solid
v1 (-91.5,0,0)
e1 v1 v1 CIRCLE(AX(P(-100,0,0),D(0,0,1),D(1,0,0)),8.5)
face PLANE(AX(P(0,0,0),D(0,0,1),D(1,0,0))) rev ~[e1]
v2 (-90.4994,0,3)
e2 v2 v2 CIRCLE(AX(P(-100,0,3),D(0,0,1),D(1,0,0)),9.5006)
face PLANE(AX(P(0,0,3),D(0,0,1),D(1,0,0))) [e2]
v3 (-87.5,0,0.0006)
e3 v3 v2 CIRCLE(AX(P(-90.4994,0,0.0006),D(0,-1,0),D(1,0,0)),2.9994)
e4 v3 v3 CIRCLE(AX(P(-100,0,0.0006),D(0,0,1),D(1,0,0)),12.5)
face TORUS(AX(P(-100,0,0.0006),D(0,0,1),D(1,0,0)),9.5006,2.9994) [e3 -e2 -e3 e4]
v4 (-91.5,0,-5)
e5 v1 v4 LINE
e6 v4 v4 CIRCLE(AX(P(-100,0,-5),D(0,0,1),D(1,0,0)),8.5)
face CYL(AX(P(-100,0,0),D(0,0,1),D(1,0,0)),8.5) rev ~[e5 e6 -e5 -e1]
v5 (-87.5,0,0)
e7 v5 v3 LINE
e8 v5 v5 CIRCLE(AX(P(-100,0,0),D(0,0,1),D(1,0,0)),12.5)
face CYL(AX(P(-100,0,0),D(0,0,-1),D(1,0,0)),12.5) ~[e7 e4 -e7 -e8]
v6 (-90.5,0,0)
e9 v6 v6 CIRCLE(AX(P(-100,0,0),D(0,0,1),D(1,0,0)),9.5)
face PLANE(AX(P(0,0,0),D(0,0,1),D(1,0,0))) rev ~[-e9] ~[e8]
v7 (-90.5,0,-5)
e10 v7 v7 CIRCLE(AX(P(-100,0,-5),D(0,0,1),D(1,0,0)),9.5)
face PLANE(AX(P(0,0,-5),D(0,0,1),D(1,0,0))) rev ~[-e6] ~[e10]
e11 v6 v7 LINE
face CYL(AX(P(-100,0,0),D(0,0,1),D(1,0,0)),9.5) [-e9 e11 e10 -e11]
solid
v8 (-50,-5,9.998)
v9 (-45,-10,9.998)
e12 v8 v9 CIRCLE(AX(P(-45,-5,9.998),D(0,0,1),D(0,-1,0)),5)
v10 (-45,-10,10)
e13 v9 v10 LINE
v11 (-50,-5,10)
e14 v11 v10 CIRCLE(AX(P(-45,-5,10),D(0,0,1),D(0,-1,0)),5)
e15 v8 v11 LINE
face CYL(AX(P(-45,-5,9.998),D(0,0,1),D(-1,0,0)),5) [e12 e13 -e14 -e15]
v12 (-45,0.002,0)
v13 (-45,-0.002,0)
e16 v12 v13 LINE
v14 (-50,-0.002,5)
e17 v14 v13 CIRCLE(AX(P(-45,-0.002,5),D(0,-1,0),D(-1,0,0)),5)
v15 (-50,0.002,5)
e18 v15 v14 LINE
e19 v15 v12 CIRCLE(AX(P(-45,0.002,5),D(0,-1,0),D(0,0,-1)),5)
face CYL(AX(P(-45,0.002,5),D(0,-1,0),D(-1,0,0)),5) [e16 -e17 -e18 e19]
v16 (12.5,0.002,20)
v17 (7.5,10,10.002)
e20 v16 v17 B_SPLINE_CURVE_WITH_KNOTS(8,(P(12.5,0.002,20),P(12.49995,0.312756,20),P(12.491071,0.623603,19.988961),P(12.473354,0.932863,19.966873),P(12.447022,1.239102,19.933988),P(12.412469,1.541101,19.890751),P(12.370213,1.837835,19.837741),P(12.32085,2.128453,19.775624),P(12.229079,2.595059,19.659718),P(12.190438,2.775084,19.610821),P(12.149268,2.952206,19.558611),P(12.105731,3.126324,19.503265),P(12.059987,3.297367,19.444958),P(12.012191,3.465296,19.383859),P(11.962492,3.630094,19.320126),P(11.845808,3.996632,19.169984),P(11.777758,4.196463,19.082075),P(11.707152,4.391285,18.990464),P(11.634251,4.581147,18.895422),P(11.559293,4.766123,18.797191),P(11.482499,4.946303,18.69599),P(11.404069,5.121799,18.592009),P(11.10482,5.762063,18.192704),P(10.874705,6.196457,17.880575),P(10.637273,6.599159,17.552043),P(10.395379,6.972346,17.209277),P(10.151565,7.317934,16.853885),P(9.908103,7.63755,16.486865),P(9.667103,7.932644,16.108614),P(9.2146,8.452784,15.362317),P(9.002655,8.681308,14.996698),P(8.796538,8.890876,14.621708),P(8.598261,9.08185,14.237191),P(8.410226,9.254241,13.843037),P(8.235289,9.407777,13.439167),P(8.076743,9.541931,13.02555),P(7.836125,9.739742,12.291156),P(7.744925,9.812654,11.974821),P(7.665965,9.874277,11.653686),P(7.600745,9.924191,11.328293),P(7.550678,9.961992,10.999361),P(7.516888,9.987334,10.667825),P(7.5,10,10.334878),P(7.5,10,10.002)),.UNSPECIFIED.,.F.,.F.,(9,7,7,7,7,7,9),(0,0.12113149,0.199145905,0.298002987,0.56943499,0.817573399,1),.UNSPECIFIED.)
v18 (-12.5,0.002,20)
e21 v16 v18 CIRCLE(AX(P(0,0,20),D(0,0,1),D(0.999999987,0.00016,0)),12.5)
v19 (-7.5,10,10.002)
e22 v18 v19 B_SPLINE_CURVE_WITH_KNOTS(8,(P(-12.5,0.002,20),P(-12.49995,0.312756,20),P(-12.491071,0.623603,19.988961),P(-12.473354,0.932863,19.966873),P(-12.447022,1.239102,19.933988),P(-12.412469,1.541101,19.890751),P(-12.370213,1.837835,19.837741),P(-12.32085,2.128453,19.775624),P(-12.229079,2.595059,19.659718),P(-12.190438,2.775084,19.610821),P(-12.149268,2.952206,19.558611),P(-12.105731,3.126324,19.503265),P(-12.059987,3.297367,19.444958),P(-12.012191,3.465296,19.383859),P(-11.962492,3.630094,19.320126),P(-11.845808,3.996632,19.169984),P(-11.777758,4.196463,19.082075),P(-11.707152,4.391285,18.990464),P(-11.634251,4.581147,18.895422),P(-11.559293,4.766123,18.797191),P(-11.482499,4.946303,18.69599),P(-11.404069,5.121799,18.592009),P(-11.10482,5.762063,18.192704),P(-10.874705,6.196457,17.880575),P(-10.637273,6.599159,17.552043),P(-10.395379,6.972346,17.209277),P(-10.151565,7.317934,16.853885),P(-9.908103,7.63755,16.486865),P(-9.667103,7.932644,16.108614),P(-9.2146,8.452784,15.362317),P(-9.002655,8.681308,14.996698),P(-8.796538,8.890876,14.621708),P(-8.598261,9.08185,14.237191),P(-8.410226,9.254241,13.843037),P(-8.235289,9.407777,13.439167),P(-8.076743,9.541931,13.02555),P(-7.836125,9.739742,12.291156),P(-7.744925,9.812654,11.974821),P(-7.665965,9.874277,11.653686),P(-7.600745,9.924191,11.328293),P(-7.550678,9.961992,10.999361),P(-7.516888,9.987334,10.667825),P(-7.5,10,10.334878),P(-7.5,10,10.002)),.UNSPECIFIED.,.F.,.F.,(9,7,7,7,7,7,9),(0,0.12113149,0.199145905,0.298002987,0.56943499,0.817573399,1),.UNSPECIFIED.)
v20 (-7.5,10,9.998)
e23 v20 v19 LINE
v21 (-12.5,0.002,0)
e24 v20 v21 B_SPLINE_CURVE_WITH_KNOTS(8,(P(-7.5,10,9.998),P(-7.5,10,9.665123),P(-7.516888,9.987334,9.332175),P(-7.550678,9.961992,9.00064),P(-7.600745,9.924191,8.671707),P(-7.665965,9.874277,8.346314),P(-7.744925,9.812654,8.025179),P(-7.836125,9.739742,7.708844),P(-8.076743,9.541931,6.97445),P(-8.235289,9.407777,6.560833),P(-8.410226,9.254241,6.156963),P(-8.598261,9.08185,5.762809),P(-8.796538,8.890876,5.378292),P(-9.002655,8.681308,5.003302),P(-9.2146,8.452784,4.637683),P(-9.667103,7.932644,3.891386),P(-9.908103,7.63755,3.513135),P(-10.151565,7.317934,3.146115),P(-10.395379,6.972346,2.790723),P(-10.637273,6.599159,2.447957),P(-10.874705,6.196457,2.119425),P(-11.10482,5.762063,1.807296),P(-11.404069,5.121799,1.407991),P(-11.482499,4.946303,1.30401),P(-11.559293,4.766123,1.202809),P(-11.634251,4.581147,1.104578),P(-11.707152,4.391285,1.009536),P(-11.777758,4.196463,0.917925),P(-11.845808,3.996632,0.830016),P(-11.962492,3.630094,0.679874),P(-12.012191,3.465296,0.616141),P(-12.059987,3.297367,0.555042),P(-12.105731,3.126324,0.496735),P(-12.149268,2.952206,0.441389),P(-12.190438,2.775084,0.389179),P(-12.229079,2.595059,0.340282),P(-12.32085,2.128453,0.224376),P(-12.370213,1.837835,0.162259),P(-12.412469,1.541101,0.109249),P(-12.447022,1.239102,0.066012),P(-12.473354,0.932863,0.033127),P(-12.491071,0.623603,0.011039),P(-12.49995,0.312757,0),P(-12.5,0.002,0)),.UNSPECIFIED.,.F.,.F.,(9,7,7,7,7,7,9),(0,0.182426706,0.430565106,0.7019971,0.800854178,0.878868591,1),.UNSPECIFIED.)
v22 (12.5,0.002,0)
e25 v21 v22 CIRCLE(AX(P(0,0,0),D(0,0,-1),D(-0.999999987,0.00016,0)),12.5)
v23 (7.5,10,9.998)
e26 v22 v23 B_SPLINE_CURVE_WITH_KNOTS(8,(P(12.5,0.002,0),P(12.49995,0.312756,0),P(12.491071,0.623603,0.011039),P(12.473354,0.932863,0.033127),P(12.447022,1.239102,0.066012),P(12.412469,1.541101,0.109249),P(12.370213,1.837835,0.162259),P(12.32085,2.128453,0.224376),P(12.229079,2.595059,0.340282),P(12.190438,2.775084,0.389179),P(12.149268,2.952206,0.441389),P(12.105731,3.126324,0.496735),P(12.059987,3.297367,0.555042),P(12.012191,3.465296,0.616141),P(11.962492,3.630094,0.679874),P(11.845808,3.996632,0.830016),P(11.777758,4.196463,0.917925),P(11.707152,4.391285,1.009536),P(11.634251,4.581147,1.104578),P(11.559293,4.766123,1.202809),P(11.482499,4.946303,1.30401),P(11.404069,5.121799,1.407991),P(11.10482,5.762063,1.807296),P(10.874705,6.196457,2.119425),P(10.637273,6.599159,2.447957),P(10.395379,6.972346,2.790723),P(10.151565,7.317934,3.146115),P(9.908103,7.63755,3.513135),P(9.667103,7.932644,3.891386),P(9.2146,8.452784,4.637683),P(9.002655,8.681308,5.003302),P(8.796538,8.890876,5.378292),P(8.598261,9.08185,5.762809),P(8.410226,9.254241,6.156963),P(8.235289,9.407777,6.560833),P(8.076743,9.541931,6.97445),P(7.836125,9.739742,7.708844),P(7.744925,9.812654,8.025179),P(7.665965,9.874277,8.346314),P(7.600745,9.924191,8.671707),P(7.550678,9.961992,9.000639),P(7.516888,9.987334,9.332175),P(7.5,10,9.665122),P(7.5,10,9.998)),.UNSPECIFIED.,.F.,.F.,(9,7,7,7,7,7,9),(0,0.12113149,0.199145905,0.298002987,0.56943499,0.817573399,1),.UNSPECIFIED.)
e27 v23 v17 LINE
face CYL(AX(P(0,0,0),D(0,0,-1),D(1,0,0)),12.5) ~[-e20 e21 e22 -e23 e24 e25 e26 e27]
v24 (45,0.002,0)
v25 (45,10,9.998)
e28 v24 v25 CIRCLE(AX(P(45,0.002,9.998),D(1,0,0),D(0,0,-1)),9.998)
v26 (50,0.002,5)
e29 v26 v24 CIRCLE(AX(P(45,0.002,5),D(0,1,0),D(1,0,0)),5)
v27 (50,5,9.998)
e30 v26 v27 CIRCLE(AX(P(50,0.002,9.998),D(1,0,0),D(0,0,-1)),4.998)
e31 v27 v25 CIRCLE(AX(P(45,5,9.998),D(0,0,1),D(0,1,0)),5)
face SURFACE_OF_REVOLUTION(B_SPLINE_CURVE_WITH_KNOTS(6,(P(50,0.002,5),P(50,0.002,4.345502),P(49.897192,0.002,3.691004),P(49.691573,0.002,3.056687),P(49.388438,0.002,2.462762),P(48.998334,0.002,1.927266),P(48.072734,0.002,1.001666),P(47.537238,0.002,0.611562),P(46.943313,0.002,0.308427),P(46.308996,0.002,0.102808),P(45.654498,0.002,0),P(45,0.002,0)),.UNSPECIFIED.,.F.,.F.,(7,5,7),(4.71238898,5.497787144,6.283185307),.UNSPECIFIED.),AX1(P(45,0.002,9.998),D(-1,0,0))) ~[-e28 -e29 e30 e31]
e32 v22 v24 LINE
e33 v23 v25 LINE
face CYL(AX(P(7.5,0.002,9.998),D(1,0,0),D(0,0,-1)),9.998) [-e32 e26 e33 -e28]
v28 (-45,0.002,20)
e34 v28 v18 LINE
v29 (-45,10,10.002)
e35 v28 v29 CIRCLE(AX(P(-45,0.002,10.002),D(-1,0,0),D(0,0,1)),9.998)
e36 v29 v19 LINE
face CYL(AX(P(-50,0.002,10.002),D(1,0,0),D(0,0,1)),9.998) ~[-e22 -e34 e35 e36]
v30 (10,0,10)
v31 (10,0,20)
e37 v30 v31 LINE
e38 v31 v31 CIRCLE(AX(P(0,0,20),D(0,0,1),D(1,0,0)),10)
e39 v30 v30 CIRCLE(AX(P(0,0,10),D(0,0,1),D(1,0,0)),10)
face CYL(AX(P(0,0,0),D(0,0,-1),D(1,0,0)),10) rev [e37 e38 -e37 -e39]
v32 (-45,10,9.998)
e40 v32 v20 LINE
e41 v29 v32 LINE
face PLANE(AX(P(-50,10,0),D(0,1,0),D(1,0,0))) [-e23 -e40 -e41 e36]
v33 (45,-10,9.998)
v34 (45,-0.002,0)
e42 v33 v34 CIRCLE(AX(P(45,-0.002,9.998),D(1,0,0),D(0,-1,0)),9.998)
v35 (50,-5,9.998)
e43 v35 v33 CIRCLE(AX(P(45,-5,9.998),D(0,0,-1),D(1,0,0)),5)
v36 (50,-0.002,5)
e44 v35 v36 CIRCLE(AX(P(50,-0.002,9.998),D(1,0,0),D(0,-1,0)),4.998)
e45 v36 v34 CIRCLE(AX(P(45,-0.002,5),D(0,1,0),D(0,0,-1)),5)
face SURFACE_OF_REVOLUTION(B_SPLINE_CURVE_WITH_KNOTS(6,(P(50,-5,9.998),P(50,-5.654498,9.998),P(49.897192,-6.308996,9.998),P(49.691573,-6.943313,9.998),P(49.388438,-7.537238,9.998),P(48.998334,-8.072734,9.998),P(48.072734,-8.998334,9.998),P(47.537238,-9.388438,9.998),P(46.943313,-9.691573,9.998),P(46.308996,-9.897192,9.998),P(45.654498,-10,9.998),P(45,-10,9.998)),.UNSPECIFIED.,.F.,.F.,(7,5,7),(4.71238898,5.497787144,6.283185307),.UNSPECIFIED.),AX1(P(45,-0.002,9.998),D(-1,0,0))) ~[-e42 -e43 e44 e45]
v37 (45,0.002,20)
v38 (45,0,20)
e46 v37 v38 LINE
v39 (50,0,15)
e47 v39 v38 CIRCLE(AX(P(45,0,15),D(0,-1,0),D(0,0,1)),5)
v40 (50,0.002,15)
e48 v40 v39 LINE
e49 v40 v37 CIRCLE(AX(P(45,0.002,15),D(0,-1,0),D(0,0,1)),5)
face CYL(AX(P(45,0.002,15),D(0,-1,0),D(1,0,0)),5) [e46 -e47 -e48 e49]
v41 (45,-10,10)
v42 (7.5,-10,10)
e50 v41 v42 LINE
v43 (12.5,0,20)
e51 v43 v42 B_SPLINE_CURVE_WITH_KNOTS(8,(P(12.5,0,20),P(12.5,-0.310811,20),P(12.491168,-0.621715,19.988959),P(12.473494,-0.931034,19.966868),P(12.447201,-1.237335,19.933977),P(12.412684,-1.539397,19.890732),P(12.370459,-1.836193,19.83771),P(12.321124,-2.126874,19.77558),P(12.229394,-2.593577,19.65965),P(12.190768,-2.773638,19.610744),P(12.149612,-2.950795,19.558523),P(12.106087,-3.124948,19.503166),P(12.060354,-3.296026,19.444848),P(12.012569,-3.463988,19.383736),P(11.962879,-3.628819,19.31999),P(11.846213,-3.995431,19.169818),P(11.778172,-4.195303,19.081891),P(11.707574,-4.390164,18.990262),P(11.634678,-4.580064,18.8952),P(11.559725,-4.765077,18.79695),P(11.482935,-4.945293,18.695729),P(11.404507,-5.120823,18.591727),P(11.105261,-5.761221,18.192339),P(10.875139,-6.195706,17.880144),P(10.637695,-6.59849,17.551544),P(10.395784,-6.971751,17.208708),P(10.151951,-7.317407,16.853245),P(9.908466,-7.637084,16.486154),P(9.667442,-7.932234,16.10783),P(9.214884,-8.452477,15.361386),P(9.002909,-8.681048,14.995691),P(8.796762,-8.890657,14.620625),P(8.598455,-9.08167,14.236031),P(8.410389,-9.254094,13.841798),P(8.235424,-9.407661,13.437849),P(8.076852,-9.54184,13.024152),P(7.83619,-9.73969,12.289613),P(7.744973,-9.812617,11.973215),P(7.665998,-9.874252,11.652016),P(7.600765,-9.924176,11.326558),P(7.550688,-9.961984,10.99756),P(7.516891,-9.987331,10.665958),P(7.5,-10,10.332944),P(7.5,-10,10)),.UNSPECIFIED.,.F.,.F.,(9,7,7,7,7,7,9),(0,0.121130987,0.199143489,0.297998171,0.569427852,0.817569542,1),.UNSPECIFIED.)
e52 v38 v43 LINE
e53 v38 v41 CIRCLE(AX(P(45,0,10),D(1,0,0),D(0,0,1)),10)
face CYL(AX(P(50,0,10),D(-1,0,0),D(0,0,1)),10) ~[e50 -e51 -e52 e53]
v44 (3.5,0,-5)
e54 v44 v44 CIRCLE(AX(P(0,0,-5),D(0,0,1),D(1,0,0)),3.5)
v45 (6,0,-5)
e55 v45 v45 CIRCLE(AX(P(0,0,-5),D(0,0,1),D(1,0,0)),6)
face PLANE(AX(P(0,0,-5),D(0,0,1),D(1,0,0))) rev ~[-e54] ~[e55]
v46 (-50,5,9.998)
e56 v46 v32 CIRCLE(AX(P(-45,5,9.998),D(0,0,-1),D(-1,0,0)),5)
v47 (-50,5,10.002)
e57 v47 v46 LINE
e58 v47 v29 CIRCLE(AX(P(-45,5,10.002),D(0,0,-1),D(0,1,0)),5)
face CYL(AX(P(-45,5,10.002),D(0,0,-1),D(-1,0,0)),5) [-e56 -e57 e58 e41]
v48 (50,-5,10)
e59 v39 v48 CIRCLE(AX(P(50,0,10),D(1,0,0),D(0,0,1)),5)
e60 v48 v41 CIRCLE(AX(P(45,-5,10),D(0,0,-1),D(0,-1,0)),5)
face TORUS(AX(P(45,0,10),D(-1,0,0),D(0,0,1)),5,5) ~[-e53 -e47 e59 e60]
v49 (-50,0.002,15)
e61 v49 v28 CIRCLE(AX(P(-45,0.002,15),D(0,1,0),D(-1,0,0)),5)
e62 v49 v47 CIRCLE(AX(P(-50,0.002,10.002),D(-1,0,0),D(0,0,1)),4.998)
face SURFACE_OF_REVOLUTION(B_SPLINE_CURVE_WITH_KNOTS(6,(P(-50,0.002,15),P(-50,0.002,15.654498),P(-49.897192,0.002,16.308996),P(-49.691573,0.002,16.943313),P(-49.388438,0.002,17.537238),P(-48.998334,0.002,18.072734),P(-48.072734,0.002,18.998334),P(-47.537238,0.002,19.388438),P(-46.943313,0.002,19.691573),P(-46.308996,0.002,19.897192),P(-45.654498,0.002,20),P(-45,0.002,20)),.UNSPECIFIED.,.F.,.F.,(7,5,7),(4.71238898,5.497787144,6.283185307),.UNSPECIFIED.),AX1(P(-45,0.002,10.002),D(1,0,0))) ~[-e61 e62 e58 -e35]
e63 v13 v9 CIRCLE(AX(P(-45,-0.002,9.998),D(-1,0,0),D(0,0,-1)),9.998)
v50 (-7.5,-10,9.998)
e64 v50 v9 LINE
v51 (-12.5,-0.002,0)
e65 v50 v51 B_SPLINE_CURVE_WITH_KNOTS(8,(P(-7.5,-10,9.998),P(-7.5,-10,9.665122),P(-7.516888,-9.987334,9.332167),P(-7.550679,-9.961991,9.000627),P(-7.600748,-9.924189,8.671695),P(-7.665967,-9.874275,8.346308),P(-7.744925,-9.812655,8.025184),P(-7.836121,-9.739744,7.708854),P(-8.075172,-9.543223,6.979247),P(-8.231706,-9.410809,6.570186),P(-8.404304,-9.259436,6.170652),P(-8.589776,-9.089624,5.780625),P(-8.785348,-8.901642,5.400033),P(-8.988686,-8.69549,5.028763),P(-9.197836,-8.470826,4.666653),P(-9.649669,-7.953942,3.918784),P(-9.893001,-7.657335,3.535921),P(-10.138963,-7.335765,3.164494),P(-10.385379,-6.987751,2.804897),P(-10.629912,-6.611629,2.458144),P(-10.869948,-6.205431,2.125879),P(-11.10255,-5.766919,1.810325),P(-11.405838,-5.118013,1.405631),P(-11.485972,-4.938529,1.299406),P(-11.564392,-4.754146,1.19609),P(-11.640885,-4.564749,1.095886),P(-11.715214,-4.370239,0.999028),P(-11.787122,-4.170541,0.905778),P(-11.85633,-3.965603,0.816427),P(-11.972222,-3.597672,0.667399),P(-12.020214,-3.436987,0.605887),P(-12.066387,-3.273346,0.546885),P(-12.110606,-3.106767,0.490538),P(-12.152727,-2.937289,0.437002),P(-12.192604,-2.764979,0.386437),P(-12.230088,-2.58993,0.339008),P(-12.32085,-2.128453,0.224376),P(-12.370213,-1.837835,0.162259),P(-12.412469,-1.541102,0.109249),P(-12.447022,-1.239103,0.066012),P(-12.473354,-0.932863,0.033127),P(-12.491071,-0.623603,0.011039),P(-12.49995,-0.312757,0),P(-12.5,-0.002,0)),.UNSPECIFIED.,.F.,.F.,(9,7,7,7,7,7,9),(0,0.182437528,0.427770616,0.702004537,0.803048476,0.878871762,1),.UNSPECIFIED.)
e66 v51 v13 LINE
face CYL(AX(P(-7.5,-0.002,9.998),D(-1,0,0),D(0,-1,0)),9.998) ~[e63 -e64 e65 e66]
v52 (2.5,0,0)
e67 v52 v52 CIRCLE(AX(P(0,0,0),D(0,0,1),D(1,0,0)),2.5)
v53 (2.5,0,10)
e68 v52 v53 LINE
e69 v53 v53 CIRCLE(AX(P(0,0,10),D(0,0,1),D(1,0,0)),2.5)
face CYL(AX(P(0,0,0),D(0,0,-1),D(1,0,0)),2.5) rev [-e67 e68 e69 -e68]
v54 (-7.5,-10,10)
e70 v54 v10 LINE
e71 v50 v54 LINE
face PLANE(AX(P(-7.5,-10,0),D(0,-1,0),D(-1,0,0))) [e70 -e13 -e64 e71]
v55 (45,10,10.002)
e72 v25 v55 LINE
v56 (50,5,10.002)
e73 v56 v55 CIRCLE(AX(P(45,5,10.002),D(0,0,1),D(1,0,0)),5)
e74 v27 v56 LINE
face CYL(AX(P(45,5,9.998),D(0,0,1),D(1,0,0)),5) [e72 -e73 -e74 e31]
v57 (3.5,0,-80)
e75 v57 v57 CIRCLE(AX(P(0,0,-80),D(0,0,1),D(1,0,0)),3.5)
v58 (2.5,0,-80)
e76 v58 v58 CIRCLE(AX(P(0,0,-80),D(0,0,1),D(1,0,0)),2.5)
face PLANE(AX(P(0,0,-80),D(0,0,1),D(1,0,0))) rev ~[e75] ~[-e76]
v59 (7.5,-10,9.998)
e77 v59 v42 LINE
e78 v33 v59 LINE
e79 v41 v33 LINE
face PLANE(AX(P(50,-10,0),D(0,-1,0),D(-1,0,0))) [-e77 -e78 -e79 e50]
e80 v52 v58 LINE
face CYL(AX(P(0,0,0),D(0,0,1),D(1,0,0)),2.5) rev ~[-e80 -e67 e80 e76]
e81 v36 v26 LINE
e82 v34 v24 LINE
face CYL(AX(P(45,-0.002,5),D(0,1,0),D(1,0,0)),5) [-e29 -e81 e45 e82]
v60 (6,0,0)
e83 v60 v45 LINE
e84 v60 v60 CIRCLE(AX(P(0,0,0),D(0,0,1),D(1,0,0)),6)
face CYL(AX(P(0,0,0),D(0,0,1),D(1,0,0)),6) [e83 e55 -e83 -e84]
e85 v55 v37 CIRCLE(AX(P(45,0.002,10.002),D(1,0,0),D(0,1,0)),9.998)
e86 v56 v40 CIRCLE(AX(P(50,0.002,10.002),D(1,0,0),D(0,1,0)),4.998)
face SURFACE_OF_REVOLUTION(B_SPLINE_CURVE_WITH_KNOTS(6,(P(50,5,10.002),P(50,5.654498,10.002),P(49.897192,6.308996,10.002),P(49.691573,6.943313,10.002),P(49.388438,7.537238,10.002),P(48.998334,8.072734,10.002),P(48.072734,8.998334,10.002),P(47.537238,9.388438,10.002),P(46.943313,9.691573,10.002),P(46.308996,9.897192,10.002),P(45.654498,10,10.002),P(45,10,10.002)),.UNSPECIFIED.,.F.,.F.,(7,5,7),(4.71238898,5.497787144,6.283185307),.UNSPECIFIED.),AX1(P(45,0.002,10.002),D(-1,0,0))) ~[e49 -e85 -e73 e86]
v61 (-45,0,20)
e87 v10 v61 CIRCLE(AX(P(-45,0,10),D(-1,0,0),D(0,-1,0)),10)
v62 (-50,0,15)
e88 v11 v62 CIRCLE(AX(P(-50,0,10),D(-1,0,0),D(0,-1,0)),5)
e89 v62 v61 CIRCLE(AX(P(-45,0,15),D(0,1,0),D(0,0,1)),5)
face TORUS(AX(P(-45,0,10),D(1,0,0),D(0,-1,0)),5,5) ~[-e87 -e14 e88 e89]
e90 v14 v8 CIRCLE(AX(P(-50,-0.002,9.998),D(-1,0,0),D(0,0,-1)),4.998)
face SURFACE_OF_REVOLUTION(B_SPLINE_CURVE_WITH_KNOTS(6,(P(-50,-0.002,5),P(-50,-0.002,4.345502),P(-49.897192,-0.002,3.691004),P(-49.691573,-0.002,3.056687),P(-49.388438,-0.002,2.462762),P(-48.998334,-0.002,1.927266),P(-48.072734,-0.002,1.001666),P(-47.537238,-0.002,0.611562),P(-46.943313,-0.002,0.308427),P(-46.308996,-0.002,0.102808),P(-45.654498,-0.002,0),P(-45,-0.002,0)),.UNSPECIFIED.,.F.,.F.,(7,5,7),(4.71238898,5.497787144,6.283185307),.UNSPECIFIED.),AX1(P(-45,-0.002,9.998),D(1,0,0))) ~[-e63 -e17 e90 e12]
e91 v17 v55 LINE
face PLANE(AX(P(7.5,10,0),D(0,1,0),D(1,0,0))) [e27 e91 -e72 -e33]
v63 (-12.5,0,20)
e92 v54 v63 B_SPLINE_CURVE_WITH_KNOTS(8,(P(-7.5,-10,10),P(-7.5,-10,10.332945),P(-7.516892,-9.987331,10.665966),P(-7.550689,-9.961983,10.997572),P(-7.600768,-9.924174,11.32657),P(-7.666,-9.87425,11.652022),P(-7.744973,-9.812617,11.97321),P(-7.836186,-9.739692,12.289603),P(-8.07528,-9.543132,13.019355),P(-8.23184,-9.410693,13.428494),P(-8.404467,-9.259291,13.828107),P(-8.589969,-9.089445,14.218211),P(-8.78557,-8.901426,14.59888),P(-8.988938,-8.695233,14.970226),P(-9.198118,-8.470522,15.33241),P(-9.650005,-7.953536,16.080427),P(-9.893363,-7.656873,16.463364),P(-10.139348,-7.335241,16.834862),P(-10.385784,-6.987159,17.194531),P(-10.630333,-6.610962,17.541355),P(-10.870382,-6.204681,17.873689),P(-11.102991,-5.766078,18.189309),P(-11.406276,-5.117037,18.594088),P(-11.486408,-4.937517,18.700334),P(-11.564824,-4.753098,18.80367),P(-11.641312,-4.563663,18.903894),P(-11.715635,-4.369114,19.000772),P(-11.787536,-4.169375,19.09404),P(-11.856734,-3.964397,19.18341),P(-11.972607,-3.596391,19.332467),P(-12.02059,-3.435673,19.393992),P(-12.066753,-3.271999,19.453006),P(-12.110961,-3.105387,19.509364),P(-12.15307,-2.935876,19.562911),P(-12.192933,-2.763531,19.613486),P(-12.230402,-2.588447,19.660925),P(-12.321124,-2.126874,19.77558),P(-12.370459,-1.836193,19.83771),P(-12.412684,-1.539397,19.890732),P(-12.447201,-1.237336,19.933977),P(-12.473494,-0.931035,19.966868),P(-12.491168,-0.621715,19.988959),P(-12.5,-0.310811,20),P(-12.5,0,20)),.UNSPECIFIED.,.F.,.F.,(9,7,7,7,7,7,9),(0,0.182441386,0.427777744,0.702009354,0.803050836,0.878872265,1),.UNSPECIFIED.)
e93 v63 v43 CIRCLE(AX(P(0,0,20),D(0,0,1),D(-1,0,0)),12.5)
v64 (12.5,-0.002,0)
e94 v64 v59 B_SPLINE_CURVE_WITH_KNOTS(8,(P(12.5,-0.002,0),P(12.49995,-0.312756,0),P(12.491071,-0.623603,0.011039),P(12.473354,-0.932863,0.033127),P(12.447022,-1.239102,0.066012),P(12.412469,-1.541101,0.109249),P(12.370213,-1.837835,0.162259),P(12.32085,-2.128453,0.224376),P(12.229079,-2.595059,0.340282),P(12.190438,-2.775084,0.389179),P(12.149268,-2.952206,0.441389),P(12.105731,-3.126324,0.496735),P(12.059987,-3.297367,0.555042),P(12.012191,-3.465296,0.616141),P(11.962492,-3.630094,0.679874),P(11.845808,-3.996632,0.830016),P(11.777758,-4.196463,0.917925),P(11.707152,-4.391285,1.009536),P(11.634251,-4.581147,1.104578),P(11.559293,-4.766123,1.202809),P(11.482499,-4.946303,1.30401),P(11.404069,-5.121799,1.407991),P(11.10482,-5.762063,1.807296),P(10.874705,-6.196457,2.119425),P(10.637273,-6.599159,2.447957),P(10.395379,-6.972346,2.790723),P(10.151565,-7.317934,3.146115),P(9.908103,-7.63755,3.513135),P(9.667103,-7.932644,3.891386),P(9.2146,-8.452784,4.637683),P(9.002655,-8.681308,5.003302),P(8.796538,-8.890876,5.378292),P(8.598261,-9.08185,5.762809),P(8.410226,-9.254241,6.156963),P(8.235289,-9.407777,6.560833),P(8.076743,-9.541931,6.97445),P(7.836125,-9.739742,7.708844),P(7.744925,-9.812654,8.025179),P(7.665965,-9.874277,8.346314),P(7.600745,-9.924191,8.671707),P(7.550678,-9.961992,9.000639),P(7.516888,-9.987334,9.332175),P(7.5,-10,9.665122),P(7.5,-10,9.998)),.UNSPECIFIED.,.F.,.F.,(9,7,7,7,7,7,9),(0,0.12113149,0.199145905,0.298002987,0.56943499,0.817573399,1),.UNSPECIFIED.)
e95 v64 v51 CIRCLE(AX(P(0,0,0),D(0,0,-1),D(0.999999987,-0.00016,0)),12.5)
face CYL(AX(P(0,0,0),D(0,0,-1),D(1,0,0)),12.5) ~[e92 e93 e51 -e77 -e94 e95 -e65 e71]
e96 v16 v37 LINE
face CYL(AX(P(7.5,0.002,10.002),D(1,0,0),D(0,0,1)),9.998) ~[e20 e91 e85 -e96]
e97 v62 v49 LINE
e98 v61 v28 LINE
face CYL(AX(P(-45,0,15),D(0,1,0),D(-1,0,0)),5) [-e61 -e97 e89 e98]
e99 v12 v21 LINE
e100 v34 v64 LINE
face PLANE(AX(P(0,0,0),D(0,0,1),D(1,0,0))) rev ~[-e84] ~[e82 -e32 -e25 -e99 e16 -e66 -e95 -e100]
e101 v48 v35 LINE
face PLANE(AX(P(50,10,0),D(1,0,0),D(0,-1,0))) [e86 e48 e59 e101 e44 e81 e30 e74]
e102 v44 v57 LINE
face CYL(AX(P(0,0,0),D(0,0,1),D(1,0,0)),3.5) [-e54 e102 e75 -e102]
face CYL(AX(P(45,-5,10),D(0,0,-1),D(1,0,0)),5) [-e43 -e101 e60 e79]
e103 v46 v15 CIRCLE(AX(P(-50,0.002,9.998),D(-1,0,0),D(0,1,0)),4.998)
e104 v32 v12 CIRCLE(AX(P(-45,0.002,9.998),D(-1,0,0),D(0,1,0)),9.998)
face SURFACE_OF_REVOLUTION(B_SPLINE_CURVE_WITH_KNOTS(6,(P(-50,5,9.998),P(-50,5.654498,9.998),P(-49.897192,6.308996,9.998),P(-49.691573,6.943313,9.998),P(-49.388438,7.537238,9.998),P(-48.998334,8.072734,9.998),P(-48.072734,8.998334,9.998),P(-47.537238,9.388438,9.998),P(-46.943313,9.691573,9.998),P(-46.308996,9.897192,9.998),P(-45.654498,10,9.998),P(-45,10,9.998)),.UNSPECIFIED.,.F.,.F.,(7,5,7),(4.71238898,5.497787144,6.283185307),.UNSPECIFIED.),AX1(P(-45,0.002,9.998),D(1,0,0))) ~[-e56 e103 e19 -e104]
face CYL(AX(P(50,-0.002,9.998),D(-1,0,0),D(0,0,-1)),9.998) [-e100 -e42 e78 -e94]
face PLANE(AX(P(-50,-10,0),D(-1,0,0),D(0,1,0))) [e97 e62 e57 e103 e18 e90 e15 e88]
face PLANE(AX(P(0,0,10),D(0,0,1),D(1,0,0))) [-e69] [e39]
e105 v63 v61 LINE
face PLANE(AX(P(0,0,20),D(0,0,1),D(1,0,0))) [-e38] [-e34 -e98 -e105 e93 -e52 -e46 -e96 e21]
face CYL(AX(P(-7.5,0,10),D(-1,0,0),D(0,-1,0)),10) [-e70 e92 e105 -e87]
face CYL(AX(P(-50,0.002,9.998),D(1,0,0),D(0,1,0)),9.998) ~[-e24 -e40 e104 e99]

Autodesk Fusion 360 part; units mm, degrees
sketch "Sketch1" plane through (0, 0, 0) normal (0, 0, 1) x (1, 0, 0)
  circle A0 centre (0, 0) radius 2.5
  circle A1 centre (0, 0) radius 3.5
  circle A2 centre (0, 0) radius 10
  circle A3 centre (0, 0) radius 12.5
  line L0 (50, -10) -> (-50, -10)
  line L1 (-50, -10) -> (-50, 10)
  line L2 (-50, 10) -> (50, 10)
  line L3 (50, 10) -> (50, -10)
  line L4 (50, -10) -> (-50, 10) construction
  line L5 (-50, -10) -> (50, 10) construction
  circle A4 centre (0, 0) radius 6
  dimension "d1" = 5
  dimension "d2" = 7
  dimension "d3" = 20
  dimension "d4" = 25
  dimension "d5" = 100
  dimension "d36" = 12
extrude "Extrude6" add sketch "Sketch1" against normal blind 5 contours A4 makes body 1
extrude "Extrude2" add sketch "Sketch1" along normal blind 10 separate body contours A1 | A2 | A4 makes body 2
extrude "Extrude3" add sketch "Sketch1" along normal blind 20 contours A2 A3 L0 L2 | A2 A3 L0 L2 | A3 L2 | A3 L0 | A3 L0 L1 L2 | A3 L0 L2 L3 bodies 2
extrude "Extrude1" add sketch "Sketch1" against normal blind 80 separate body contours A1 makes body 3
fillet "Fillet1" radius 10 1 edges at (-28.75, -10, 20) on bodies 2
fillet "Fillet2" radius 10 1 edges at (28.75, -10, 20) on bodies 2
fillet "Fillet3" radius 10 1 edges at (28.75, 10, 20) on bodies 2
fillet "Fillet4" radius 10 1 edges at (-28.75, 10, 20) on bodies 2
fillet "Fillet5" radius 10 4 edges at (-28.75, -10, 0) (28.75, -10, 0) (28.75, 10, 0) (-28.75, 10, 0) on bodies 2
fillet "Fillet6" radius 5 2 edges at (50, -10, 10) (50, 10, 10) on bodies 2
fillet "Fillet7" radius 5 2 edges at (-50, -10, 10) (-50, 10, 10) on bodies 2
sketch "Sketch2" plane through (0, 0, 0) normal (0, 0, 1) x (1, 0, 0)
  circle A0 centre (-100, 0) radius 8.5
  circle A1 centre (-100, 0) radius 9.5
  circle A2 centre (-100, 0) radius 12.5
  dimension "d26" = 17
  dimension "d27" = 19
  dimension "d28" = 25
extrude "Extrude5" add sketch "Sketch2" along normal blind 3 separate body contours A0 | A1 | A2 makes body 4
extrude "Extrude4" add sketch "Sketch2" against normal blind 5 separate body contours A1 makes body 5
combine "Combine1" operation add target body 4 tool bodies 5
fillet "Fillet8" radius 3 1 edges at (-111.6541, -4.5202, 3) on bodies 4
combine "Combine2" operation add target body 2 tool bodies 1 3
